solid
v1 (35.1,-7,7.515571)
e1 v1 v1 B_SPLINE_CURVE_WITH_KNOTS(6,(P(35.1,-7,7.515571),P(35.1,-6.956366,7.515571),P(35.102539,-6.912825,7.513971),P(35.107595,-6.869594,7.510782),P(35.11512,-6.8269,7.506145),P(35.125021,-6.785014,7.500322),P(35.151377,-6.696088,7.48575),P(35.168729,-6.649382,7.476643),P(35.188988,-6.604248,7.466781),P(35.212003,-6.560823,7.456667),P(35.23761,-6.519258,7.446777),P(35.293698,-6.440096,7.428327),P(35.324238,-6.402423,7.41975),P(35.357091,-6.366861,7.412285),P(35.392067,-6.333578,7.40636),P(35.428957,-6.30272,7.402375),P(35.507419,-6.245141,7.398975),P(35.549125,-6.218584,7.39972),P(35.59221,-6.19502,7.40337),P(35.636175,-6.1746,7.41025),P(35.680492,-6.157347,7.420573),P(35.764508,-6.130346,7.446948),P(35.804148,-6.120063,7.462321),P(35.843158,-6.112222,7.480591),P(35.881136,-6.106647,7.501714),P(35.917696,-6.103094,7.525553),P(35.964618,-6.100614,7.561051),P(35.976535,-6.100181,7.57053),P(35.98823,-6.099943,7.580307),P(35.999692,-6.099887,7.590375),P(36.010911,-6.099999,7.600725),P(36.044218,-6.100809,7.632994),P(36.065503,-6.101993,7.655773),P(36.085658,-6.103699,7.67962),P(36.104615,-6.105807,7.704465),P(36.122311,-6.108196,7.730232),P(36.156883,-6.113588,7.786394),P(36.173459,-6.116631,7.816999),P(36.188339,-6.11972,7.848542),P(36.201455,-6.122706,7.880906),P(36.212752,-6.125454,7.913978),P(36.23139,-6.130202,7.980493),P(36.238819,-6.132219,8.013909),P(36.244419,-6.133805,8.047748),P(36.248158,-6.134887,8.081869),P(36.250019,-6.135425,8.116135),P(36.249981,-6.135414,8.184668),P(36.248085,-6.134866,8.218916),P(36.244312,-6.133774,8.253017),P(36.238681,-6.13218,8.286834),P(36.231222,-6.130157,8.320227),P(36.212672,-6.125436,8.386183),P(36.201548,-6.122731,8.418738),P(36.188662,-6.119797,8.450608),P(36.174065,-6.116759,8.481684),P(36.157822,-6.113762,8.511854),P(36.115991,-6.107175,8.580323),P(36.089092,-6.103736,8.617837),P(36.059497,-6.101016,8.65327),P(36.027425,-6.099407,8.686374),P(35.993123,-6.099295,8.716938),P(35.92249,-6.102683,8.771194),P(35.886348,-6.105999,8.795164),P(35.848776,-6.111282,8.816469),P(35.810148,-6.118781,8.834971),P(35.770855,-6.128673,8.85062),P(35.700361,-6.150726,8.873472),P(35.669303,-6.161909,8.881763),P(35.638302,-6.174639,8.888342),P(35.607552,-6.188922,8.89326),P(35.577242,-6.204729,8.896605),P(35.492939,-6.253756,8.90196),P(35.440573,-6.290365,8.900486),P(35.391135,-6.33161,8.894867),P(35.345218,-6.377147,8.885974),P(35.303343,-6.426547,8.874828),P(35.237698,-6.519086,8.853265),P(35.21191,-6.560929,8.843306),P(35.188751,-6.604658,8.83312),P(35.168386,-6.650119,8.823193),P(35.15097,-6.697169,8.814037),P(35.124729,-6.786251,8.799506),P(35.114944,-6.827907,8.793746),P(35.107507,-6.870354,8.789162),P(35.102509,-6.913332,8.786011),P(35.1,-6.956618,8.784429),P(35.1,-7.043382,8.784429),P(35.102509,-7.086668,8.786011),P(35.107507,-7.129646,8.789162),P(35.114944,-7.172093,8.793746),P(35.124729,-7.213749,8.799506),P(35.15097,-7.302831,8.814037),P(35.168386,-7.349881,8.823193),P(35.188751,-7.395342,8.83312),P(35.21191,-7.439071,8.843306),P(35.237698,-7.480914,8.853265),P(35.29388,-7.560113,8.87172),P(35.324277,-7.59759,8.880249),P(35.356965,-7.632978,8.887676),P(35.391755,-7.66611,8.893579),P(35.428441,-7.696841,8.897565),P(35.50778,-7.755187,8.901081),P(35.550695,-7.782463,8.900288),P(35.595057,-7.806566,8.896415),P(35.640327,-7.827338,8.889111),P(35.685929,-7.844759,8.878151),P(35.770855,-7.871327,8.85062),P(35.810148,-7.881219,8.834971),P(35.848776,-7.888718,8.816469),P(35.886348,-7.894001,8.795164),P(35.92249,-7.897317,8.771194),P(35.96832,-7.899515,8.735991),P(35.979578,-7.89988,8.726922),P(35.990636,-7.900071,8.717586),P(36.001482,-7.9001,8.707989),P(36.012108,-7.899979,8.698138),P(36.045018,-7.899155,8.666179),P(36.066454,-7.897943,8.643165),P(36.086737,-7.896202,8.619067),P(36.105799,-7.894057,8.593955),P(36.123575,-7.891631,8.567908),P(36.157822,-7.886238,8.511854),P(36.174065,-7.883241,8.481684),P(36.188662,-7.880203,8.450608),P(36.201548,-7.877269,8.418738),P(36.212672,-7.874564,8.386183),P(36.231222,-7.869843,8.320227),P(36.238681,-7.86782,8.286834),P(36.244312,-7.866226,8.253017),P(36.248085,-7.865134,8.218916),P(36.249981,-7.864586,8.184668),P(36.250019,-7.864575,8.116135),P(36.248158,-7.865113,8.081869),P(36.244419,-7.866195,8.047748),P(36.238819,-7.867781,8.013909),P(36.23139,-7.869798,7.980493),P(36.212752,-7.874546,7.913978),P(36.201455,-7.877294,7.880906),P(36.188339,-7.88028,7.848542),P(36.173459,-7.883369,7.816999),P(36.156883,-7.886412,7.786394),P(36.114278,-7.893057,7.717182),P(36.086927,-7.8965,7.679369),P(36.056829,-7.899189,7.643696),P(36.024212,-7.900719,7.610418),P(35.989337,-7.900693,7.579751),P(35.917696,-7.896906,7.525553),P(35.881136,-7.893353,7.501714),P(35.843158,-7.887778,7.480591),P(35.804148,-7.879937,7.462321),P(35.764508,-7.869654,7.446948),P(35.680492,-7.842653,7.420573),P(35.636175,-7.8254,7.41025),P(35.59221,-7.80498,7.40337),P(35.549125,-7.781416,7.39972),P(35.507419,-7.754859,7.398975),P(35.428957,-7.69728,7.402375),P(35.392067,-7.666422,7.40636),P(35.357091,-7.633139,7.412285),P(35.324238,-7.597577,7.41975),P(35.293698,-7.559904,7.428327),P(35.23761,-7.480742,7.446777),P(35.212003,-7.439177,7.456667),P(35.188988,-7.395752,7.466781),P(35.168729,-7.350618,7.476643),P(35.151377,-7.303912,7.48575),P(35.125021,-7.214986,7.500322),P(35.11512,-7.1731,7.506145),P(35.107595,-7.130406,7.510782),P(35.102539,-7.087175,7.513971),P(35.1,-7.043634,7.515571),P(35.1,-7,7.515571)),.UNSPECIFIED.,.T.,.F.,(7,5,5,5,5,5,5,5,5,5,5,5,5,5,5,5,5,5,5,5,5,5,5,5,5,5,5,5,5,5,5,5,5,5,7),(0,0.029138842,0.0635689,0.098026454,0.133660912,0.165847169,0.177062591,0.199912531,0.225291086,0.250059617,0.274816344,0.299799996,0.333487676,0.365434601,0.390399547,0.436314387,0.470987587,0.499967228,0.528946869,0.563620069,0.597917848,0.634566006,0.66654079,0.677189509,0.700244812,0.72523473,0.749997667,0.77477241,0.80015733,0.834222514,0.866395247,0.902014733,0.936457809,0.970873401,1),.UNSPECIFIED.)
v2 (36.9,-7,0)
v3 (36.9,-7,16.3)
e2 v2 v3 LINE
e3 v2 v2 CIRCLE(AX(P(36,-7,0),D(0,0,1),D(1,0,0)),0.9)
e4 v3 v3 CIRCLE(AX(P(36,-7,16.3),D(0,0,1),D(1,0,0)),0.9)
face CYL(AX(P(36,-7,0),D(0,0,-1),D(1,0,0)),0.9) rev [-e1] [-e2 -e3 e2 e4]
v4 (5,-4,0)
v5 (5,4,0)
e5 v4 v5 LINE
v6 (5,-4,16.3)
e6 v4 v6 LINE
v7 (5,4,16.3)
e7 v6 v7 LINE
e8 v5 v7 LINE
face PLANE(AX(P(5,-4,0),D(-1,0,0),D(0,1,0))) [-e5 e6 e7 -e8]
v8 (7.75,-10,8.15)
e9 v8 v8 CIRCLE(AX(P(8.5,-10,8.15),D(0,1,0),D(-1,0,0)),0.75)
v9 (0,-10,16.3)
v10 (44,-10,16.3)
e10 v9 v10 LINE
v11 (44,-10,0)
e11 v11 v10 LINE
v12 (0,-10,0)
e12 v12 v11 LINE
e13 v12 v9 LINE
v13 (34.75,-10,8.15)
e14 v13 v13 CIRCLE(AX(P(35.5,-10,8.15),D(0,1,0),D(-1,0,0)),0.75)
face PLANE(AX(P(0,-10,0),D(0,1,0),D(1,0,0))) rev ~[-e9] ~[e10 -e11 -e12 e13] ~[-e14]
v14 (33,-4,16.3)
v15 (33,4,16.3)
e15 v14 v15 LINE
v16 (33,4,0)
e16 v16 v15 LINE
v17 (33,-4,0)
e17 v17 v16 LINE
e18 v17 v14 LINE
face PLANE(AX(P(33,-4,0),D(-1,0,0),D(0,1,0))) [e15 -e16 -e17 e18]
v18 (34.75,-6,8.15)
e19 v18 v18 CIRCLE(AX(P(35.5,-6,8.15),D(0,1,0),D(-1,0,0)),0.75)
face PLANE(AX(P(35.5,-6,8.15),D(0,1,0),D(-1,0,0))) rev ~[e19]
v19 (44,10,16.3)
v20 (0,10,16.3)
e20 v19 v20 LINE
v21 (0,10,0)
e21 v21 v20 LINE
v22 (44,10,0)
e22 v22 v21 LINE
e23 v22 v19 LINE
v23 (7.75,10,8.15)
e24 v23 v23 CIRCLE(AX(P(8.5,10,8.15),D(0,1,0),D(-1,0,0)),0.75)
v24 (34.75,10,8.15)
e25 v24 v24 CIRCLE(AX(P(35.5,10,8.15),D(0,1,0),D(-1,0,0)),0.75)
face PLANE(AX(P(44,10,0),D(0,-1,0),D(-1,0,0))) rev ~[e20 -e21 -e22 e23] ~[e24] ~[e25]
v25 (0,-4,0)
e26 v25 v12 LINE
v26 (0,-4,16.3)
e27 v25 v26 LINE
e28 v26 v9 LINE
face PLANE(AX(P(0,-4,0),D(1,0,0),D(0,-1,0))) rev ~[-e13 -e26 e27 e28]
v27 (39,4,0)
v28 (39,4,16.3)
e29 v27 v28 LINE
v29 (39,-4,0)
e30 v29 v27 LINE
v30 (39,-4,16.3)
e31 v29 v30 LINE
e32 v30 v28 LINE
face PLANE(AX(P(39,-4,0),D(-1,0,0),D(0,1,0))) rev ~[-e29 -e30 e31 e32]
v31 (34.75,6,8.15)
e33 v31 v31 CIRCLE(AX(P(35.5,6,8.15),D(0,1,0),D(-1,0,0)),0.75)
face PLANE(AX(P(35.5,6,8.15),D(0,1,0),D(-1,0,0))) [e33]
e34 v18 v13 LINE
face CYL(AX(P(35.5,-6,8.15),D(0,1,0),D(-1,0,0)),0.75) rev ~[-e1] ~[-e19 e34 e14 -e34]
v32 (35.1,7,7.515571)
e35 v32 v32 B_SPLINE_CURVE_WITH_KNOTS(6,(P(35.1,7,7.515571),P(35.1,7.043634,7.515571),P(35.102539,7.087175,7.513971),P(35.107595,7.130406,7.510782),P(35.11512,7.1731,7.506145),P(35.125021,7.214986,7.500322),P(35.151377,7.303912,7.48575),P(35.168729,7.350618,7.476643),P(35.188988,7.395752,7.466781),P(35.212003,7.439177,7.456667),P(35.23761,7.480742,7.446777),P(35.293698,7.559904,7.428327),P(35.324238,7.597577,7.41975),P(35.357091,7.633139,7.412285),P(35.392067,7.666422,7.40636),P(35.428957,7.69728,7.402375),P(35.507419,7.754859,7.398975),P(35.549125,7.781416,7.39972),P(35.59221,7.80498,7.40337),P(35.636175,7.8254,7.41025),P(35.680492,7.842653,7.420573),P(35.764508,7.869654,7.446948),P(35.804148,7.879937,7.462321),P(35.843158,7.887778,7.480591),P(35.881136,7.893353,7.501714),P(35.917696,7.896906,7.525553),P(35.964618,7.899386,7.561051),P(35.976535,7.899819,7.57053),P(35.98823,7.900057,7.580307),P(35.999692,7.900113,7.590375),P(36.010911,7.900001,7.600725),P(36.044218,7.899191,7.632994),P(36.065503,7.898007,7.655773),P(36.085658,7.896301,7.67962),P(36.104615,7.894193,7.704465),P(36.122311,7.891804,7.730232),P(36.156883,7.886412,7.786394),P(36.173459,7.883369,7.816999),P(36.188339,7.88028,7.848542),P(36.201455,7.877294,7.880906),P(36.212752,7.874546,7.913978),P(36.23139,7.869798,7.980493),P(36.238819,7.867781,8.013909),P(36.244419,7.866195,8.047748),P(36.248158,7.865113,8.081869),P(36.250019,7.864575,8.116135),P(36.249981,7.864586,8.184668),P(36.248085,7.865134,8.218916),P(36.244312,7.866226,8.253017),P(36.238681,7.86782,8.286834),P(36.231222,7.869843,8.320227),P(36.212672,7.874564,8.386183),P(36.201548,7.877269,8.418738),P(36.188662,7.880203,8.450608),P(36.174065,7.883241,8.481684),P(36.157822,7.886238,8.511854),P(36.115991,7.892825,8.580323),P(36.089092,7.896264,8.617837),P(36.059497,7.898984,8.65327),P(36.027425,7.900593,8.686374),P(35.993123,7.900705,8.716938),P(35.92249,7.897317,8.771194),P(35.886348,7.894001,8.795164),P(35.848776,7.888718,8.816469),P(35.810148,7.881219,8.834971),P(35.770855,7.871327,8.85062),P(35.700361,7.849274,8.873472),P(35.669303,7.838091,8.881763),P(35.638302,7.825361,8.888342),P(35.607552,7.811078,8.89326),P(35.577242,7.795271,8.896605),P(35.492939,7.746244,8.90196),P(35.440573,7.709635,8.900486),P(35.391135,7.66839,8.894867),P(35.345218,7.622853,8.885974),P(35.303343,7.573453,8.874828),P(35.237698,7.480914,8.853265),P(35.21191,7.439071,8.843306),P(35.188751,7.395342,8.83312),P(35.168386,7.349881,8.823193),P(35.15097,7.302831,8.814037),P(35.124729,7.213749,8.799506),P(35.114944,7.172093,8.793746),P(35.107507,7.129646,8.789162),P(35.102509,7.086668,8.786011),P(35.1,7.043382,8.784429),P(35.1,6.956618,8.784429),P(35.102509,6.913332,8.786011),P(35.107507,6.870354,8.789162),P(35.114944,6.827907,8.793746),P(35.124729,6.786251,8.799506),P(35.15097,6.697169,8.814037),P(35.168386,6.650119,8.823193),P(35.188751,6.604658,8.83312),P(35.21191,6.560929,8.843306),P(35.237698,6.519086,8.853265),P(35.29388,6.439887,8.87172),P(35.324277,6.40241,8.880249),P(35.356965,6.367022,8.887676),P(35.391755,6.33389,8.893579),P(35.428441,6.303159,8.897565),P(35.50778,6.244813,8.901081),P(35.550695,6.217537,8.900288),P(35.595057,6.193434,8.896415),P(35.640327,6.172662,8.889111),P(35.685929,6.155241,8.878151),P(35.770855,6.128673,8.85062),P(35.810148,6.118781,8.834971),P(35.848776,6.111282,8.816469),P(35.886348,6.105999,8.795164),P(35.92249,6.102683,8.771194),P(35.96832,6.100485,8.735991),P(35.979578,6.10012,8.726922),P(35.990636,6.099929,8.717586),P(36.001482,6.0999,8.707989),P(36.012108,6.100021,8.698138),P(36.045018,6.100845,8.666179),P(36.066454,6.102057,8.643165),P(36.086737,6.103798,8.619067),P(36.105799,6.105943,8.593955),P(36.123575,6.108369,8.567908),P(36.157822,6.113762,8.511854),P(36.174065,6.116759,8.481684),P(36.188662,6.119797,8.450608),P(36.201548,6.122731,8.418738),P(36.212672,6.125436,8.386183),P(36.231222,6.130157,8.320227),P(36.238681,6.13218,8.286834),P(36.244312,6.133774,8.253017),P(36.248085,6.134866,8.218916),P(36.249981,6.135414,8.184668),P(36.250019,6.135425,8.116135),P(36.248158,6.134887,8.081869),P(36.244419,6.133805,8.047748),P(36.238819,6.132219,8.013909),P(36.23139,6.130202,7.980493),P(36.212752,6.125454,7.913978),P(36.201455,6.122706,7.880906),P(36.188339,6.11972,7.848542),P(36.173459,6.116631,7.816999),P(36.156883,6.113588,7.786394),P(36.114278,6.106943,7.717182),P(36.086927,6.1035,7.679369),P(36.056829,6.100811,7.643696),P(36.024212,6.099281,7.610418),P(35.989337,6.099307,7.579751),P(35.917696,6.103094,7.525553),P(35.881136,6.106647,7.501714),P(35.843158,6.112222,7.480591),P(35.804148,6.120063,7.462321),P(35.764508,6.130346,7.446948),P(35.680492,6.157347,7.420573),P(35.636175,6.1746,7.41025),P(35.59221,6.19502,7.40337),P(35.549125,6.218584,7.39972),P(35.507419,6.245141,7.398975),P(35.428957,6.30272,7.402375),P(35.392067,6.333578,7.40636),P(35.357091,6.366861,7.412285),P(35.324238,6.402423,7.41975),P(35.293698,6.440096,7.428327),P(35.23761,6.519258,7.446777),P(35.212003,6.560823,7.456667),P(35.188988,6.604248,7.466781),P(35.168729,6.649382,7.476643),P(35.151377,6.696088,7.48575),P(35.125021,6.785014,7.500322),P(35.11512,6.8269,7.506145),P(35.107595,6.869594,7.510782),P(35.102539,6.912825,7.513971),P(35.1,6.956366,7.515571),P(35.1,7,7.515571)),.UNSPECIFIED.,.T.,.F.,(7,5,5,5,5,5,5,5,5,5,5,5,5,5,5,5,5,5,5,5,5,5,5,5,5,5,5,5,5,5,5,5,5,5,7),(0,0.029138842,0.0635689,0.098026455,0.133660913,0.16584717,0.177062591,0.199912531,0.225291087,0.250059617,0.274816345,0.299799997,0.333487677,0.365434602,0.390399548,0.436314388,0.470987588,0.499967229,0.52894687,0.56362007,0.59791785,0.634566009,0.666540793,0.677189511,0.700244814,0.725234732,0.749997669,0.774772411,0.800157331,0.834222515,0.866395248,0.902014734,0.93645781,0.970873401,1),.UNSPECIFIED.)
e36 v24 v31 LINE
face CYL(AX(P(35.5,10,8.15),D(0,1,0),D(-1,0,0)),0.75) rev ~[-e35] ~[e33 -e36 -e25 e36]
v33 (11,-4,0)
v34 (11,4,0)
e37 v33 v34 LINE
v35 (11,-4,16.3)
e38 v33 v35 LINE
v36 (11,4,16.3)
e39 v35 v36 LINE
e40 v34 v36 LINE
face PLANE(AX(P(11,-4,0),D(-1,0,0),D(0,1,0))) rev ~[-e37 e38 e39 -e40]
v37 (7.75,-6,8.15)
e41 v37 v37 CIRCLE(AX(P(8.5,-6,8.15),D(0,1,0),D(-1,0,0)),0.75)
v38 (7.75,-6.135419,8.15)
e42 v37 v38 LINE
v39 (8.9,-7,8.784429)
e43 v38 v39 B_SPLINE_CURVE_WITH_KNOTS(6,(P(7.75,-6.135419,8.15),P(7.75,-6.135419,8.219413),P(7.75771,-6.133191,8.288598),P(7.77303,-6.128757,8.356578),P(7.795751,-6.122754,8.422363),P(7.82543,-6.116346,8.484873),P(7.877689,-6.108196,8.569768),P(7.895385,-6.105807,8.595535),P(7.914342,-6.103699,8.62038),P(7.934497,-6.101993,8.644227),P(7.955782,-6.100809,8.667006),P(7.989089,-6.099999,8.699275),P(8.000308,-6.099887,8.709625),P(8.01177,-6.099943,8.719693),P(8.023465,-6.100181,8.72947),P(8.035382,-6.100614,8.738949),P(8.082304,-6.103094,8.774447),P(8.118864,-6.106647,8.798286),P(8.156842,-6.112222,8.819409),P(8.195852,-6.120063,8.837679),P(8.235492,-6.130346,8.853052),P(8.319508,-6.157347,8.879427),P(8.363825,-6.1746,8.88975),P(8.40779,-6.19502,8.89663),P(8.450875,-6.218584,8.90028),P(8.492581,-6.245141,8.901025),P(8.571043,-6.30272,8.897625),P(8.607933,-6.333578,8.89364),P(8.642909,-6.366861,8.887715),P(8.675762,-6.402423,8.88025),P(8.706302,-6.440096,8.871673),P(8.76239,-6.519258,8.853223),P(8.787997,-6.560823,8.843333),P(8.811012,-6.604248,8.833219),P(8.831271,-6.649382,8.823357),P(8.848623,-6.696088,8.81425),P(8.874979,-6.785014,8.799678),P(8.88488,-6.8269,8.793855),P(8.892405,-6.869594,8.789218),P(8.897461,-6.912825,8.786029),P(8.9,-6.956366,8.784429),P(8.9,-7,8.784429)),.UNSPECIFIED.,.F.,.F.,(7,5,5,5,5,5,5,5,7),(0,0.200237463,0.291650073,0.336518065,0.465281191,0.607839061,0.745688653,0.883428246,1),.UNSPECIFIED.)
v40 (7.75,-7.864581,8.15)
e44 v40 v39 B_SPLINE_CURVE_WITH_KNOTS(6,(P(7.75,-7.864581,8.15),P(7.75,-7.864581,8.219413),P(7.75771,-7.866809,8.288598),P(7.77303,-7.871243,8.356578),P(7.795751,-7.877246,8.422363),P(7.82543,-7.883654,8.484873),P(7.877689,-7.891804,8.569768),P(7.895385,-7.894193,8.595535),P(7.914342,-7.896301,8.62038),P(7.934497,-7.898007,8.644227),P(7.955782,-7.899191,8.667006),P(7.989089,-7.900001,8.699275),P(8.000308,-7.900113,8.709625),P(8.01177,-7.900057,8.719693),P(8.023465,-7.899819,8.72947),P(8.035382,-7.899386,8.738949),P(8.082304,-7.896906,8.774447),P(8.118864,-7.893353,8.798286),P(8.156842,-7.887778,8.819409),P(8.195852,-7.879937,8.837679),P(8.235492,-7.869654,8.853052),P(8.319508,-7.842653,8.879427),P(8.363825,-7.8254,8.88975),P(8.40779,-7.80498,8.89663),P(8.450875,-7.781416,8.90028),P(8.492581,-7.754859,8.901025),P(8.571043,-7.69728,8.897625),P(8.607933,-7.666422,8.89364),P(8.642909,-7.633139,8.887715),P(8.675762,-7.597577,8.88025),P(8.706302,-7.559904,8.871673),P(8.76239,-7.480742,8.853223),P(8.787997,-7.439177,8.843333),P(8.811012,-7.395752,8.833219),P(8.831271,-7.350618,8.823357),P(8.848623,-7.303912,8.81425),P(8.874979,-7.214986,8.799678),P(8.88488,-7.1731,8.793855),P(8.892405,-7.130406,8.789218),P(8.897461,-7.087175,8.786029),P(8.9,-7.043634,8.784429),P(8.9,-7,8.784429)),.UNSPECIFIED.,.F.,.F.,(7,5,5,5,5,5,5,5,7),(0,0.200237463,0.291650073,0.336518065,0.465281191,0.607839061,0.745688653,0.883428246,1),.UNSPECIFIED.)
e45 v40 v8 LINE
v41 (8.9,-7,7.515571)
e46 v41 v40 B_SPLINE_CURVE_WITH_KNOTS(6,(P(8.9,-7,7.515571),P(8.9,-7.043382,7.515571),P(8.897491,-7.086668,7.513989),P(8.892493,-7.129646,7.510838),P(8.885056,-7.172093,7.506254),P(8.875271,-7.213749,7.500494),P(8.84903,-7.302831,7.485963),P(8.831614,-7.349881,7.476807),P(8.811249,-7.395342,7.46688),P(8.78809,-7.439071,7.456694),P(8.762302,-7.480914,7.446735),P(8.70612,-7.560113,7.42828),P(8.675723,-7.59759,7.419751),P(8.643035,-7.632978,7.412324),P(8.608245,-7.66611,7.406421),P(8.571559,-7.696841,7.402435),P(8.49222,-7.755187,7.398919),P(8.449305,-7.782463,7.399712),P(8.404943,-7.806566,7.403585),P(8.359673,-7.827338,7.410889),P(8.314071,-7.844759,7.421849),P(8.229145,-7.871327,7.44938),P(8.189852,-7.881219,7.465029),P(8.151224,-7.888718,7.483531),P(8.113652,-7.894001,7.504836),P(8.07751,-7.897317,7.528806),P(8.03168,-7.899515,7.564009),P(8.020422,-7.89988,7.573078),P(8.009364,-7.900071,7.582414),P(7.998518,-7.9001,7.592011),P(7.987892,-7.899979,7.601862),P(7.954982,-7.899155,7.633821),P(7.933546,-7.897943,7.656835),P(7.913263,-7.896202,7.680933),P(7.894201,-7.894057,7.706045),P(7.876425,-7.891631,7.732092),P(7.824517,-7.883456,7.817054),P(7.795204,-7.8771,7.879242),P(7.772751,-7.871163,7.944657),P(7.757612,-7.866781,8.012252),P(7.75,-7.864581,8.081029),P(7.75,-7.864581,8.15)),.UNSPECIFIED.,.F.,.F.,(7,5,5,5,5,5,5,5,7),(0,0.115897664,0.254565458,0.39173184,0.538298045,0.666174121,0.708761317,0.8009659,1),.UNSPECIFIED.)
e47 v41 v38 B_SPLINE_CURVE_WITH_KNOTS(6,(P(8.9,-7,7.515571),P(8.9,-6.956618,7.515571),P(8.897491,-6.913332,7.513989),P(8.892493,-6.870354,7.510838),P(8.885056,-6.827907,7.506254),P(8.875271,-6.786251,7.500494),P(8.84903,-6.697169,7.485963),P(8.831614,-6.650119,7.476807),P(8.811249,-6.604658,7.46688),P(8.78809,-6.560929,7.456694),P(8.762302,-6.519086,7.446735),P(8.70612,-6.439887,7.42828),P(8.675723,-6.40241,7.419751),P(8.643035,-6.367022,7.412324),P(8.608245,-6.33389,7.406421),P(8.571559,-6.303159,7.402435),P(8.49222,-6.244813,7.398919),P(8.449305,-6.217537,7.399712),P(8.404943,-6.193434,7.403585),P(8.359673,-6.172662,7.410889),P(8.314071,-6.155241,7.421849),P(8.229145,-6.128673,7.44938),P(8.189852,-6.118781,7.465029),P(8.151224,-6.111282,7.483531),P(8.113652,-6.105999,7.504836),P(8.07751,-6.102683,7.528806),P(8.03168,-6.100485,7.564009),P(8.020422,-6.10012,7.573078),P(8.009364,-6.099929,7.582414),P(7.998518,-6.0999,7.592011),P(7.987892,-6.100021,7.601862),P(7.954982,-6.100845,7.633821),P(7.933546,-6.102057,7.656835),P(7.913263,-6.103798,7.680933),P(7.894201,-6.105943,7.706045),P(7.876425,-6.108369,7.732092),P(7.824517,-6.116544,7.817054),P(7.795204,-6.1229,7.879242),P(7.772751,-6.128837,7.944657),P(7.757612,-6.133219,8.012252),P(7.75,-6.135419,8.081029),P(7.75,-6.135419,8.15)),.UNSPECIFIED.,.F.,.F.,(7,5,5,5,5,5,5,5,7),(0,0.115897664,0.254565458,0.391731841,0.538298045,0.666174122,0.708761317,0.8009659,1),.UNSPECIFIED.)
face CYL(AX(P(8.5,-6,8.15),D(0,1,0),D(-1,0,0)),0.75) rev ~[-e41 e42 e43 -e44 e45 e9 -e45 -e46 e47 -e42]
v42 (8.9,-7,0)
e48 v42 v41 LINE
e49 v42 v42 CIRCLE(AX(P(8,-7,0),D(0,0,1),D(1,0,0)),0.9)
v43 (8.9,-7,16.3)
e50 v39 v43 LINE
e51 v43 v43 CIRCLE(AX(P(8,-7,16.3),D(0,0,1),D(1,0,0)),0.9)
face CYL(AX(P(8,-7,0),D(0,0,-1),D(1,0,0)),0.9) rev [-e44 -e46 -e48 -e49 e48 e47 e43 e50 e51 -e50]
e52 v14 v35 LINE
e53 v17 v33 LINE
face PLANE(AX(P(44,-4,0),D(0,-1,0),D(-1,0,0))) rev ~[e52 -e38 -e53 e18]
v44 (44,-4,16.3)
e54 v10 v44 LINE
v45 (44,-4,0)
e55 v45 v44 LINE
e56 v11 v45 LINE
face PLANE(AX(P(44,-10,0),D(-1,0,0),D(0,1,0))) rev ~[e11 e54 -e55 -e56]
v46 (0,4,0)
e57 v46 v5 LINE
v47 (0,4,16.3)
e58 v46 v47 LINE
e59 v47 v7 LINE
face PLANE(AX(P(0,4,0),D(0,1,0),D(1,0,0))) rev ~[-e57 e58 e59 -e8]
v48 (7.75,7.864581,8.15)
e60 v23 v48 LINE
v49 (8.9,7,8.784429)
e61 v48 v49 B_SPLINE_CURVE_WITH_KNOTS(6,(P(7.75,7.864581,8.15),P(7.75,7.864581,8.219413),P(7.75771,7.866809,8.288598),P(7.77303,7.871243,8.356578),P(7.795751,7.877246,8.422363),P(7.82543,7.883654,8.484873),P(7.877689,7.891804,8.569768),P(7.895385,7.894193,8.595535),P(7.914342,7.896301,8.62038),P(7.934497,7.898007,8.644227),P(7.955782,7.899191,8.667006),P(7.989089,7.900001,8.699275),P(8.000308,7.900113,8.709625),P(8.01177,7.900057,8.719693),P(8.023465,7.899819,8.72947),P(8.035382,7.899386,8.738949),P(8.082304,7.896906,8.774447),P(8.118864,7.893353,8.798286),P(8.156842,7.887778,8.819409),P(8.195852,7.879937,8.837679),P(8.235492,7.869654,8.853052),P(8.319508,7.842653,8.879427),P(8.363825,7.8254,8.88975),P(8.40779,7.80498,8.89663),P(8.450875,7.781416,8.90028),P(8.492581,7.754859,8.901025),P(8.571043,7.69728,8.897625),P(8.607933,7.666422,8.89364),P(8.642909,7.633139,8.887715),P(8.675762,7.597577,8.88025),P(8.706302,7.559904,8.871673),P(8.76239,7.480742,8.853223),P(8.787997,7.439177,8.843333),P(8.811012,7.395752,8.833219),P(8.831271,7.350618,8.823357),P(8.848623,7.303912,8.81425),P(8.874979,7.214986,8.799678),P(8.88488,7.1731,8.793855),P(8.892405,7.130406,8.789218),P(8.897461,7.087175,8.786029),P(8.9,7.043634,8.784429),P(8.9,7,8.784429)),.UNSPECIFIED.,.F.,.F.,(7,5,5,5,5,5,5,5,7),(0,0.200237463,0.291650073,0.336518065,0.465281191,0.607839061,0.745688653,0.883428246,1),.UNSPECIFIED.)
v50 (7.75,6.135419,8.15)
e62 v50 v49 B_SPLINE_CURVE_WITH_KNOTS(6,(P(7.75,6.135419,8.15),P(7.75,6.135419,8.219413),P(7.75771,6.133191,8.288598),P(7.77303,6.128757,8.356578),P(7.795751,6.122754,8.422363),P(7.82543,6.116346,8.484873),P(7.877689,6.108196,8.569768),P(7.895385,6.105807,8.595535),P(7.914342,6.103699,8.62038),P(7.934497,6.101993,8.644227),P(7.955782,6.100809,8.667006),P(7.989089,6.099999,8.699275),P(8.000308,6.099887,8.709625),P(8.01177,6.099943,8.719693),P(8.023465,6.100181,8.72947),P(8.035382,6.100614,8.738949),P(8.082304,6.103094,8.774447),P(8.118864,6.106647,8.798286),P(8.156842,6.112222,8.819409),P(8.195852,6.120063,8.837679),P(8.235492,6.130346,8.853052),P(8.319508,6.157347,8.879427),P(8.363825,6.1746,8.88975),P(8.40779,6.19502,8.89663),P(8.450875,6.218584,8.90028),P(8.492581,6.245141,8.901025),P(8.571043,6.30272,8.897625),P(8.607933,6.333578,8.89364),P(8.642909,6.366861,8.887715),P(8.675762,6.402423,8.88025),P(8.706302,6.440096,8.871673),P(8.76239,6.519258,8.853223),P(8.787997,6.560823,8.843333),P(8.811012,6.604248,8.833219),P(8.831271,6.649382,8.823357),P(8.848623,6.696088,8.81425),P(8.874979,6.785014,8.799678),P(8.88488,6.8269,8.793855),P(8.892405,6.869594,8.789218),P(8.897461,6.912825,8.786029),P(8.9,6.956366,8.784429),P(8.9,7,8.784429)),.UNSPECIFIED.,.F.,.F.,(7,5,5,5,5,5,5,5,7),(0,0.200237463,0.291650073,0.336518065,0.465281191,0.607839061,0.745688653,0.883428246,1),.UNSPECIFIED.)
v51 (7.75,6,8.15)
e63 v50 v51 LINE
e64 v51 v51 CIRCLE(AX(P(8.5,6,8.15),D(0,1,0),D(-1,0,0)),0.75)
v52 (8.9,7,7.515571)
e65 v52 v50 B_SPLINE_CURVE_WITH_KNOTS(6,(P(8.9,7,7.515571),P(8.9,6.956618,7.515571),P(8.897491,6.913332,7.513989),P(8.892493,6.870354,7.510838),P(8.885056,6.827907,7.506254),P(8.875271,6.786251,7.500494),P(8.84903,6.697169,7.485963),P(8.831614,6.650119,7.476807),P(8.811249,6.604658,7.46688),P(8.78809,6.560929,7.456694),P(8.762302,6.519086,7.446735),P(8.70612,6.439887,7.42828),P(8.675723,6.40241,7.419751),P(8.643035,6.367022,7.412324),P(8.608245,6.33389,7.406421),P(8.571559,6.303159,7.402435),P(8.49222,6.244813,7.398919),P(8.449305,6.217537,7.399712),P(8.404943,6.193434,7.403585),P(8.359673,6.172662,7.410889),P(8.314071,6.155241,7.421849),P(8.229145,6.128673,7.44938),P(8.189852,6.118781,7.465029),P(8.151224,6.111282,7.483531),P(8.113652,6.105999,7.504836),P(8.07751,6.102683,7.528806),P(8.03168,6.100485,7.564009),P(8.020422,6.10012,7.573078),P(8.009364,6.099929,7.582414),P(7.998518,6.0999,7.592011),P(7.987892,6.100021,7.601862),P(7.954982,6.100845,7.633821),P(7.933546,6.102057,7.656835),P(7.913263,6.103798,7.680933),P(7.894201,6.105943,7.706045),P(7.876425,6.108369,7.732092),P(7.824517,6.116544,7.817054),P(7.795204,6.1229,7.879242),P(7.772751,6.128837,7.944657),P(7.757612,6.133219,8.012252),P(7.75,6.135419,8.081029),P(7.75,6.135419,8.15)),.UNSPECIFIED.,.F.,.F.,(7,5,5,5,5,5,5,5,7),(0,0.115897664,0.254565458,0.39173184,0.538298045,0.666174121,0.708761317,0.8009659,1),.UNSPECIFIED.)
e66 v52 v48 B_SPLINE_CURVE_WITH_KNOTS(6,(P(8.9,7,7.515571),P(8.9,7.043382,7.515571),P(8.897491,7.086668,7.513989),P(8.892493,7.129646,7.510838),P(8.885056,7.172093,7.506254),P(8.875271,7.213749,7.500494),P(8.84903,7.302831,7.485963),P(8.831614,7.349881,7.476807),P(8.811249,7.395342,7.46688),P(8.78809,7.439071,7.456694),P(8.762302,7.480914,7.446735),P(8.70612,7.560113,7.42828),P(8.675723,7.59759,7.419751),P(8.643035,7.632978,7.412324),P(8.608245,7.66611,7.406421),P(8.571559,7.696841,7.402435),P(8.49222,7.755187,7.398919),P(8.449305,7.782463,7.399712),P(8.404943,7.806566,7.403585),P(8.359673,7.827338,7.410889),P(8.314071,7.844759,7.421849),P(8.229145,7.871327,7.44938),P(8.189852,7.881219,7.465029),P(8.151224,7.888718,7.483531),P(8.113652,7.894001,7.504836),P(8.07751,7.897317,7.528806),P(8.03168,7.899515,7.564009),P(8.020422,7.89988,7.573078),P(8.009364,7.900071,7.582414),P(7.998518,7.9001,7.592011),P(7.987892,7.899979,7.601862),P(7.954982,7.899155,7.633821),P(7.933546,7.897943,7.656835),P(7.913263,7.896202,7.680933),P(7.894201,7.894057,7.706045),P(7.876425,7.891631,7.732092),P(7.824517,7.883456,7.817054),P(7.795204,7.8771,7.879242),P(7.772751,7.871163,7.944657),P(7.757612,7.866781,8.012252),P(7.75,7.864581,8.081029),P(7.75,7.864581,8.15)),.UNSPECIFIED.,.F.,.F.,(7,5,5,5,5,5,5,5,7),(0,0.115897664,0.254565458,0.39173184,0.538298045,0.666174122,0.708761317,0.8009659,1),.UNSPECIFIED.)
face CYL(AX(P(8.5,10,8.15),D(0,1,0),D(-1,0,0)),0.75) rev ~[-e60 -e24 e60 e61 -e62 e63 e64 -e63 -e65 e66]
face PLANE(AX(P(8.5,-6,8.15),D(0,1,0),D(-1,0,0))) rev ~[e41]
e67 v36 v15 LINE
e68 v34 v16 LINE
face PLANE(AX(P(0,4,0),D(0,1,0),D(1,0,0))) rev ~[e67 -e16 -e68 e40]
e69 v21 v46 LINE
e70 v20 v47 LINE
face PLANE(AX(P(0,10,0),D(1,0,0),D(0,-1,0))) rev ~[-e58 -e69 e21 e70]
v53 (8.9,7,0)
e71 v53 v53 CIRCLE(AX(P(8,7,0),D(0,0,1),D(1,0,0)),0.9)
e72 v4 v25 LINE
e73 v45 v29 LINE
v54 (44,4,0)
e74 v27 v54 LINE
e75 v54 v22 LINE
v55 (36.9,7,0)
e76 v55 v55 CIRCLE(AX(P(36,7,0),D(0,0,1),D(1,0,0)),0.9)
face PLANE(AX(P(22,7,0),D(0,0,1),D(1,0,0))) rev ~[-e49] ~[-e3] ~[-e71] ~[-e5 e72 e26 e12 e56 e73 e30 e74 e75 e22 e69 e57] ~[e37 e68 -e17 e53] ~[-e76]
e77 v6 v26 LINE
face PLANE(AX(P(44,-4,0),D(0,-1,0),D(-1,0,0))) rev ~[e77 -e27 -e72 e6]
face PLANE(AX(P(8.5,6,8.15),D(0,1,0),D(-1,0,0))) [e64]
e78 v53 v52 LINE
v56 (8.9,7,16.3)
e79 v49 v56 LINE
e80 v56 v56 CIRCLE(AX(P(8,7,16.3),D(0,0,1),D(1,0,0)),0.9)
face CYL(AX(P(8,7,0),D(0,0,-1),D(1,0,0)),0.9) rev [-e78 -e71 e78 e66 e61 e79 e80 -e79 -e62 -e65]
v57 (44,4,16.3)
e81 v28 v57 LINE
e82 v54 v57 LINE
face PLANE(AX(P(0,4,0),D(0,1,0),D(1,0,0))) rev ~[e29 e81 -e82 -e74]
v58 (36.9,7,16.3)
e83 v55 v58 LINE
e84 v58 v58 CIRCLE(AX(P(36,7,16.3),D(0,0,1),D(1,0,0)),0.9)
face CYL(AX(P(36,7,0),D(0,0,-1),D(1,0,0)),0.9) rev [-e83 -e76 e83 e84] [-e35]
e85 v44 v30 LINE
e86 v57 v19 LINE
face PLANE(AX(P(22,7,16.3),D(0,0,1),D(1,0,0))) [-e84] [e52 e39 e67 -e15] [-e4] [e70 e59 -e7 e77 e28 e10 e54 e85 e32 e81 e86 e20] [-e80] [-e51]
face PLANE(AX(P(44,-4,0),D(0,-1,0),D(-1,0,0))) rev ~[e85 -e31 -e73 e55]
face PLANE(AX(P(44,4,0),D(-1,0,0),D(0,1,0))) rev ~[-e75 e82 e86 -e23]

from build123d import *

# Parameters (mm, degrees)
SKETCH_1_R          = 0.9
SKETCH_1_W          = 6
SKETCH_1_H          = 8
EXTRUDE_1_DEPTH     = 16.3
SKETCH_2_R          = 0.75
CUT_EXTRUDE_1_DEPTH = 4
CUT_EXTRUDE_START   = -16
SKETCH_2_3_R        = 0.75
CUT_EXTRUDE_2_DEPTH = 4


with BuildPart() as part:
    # 草图1 → 凸台-拉伸1 (new body)
    # profile 1 of 4: a face of its own
    with BuildSketch(Plane.XY):
        Polygon((44, 10), (0, 10), (0, 4), (5, 4), (11, 4), (33, 4), (39, 4), (44, 4), align=None)
        with Locations((8, 7)):
            Circle(SKETCH_1_R, mode=Mode.SUBTRACT)
        with Locations((36, 7)):
            Circle(SKETCH_1_R, mode=Mode.SUBTRACT)
    # profile 2 of 4: a face of its own
    with BuildSketch(Plane.XY):
        Polygon((5, -4), (0, -4), (0, -10), (44, -10), (44, -4), (39, -4), (33, -4), (11, -4), align=None)
        with Locations((8, -7)):
            Circle(SKETCH_1_R, mode=Mode.SUBTRACT)
        with Locations((36, -7)):
            Circle(SKETCH_1_R, mode=Mode.SUBTRACT)
    # profile 3 of 4: a face of its own
    with BuildSketch(Plane.XY):
        with Locations((8, 0)):
            Rectangle(SKETCH_1_W, SKETCH_1_H)
    # profile 4 of 4: a face of its own
    with BuildSketch(Plane.XY):
        with Locations((36, 0)):
            Rectangle(SKETCH_1_W, SKETCH_1_H)
    extrude(amount=EXTRUDE_1_DEPTH)

    # 草图2 → 切除-拉伸1 (cut)
    with BuildSketch(Plane(origin=(0, 10, 0), x_dir=(1, 0, 0), z_dir=(0, 1, 0))):
        with Locations(Location((8.5, -8.15, 0), (0, 0, 180))):
            Circle(SKETCH_2_R)
        with Locations(Location((35.5, -8.15, 0), (0, 0, 180))):
            Circle(SKETCH_2_R)
    extrude(amount=-CUT_EXTRUDE_1_DEPTH, mode=Mode.SUBTRACT)

    # 草图2<3> → 切除-拉伸2 (cut)
    with BuildSketch(Plane(origin=(0, 10, 0), x_dir=(1, 0, 0), z_dir=(0, 1, 0)).offset(CUT_EXTRUDE_START)):
        with Locations(Location((8.5, -8.15, 0), (0, 0, 180))):
            Circle(SKETCH_2_3_R)
        with Locations(Location((35.5, -8.15, 0), (0, 0, 180))):
            Circle(SKETCH_2_3_R)
    extrude(amount=-CUT_EXTRUDE_2_DEPTH, mode=Mode.SUBTRACT)


solid = part.part
